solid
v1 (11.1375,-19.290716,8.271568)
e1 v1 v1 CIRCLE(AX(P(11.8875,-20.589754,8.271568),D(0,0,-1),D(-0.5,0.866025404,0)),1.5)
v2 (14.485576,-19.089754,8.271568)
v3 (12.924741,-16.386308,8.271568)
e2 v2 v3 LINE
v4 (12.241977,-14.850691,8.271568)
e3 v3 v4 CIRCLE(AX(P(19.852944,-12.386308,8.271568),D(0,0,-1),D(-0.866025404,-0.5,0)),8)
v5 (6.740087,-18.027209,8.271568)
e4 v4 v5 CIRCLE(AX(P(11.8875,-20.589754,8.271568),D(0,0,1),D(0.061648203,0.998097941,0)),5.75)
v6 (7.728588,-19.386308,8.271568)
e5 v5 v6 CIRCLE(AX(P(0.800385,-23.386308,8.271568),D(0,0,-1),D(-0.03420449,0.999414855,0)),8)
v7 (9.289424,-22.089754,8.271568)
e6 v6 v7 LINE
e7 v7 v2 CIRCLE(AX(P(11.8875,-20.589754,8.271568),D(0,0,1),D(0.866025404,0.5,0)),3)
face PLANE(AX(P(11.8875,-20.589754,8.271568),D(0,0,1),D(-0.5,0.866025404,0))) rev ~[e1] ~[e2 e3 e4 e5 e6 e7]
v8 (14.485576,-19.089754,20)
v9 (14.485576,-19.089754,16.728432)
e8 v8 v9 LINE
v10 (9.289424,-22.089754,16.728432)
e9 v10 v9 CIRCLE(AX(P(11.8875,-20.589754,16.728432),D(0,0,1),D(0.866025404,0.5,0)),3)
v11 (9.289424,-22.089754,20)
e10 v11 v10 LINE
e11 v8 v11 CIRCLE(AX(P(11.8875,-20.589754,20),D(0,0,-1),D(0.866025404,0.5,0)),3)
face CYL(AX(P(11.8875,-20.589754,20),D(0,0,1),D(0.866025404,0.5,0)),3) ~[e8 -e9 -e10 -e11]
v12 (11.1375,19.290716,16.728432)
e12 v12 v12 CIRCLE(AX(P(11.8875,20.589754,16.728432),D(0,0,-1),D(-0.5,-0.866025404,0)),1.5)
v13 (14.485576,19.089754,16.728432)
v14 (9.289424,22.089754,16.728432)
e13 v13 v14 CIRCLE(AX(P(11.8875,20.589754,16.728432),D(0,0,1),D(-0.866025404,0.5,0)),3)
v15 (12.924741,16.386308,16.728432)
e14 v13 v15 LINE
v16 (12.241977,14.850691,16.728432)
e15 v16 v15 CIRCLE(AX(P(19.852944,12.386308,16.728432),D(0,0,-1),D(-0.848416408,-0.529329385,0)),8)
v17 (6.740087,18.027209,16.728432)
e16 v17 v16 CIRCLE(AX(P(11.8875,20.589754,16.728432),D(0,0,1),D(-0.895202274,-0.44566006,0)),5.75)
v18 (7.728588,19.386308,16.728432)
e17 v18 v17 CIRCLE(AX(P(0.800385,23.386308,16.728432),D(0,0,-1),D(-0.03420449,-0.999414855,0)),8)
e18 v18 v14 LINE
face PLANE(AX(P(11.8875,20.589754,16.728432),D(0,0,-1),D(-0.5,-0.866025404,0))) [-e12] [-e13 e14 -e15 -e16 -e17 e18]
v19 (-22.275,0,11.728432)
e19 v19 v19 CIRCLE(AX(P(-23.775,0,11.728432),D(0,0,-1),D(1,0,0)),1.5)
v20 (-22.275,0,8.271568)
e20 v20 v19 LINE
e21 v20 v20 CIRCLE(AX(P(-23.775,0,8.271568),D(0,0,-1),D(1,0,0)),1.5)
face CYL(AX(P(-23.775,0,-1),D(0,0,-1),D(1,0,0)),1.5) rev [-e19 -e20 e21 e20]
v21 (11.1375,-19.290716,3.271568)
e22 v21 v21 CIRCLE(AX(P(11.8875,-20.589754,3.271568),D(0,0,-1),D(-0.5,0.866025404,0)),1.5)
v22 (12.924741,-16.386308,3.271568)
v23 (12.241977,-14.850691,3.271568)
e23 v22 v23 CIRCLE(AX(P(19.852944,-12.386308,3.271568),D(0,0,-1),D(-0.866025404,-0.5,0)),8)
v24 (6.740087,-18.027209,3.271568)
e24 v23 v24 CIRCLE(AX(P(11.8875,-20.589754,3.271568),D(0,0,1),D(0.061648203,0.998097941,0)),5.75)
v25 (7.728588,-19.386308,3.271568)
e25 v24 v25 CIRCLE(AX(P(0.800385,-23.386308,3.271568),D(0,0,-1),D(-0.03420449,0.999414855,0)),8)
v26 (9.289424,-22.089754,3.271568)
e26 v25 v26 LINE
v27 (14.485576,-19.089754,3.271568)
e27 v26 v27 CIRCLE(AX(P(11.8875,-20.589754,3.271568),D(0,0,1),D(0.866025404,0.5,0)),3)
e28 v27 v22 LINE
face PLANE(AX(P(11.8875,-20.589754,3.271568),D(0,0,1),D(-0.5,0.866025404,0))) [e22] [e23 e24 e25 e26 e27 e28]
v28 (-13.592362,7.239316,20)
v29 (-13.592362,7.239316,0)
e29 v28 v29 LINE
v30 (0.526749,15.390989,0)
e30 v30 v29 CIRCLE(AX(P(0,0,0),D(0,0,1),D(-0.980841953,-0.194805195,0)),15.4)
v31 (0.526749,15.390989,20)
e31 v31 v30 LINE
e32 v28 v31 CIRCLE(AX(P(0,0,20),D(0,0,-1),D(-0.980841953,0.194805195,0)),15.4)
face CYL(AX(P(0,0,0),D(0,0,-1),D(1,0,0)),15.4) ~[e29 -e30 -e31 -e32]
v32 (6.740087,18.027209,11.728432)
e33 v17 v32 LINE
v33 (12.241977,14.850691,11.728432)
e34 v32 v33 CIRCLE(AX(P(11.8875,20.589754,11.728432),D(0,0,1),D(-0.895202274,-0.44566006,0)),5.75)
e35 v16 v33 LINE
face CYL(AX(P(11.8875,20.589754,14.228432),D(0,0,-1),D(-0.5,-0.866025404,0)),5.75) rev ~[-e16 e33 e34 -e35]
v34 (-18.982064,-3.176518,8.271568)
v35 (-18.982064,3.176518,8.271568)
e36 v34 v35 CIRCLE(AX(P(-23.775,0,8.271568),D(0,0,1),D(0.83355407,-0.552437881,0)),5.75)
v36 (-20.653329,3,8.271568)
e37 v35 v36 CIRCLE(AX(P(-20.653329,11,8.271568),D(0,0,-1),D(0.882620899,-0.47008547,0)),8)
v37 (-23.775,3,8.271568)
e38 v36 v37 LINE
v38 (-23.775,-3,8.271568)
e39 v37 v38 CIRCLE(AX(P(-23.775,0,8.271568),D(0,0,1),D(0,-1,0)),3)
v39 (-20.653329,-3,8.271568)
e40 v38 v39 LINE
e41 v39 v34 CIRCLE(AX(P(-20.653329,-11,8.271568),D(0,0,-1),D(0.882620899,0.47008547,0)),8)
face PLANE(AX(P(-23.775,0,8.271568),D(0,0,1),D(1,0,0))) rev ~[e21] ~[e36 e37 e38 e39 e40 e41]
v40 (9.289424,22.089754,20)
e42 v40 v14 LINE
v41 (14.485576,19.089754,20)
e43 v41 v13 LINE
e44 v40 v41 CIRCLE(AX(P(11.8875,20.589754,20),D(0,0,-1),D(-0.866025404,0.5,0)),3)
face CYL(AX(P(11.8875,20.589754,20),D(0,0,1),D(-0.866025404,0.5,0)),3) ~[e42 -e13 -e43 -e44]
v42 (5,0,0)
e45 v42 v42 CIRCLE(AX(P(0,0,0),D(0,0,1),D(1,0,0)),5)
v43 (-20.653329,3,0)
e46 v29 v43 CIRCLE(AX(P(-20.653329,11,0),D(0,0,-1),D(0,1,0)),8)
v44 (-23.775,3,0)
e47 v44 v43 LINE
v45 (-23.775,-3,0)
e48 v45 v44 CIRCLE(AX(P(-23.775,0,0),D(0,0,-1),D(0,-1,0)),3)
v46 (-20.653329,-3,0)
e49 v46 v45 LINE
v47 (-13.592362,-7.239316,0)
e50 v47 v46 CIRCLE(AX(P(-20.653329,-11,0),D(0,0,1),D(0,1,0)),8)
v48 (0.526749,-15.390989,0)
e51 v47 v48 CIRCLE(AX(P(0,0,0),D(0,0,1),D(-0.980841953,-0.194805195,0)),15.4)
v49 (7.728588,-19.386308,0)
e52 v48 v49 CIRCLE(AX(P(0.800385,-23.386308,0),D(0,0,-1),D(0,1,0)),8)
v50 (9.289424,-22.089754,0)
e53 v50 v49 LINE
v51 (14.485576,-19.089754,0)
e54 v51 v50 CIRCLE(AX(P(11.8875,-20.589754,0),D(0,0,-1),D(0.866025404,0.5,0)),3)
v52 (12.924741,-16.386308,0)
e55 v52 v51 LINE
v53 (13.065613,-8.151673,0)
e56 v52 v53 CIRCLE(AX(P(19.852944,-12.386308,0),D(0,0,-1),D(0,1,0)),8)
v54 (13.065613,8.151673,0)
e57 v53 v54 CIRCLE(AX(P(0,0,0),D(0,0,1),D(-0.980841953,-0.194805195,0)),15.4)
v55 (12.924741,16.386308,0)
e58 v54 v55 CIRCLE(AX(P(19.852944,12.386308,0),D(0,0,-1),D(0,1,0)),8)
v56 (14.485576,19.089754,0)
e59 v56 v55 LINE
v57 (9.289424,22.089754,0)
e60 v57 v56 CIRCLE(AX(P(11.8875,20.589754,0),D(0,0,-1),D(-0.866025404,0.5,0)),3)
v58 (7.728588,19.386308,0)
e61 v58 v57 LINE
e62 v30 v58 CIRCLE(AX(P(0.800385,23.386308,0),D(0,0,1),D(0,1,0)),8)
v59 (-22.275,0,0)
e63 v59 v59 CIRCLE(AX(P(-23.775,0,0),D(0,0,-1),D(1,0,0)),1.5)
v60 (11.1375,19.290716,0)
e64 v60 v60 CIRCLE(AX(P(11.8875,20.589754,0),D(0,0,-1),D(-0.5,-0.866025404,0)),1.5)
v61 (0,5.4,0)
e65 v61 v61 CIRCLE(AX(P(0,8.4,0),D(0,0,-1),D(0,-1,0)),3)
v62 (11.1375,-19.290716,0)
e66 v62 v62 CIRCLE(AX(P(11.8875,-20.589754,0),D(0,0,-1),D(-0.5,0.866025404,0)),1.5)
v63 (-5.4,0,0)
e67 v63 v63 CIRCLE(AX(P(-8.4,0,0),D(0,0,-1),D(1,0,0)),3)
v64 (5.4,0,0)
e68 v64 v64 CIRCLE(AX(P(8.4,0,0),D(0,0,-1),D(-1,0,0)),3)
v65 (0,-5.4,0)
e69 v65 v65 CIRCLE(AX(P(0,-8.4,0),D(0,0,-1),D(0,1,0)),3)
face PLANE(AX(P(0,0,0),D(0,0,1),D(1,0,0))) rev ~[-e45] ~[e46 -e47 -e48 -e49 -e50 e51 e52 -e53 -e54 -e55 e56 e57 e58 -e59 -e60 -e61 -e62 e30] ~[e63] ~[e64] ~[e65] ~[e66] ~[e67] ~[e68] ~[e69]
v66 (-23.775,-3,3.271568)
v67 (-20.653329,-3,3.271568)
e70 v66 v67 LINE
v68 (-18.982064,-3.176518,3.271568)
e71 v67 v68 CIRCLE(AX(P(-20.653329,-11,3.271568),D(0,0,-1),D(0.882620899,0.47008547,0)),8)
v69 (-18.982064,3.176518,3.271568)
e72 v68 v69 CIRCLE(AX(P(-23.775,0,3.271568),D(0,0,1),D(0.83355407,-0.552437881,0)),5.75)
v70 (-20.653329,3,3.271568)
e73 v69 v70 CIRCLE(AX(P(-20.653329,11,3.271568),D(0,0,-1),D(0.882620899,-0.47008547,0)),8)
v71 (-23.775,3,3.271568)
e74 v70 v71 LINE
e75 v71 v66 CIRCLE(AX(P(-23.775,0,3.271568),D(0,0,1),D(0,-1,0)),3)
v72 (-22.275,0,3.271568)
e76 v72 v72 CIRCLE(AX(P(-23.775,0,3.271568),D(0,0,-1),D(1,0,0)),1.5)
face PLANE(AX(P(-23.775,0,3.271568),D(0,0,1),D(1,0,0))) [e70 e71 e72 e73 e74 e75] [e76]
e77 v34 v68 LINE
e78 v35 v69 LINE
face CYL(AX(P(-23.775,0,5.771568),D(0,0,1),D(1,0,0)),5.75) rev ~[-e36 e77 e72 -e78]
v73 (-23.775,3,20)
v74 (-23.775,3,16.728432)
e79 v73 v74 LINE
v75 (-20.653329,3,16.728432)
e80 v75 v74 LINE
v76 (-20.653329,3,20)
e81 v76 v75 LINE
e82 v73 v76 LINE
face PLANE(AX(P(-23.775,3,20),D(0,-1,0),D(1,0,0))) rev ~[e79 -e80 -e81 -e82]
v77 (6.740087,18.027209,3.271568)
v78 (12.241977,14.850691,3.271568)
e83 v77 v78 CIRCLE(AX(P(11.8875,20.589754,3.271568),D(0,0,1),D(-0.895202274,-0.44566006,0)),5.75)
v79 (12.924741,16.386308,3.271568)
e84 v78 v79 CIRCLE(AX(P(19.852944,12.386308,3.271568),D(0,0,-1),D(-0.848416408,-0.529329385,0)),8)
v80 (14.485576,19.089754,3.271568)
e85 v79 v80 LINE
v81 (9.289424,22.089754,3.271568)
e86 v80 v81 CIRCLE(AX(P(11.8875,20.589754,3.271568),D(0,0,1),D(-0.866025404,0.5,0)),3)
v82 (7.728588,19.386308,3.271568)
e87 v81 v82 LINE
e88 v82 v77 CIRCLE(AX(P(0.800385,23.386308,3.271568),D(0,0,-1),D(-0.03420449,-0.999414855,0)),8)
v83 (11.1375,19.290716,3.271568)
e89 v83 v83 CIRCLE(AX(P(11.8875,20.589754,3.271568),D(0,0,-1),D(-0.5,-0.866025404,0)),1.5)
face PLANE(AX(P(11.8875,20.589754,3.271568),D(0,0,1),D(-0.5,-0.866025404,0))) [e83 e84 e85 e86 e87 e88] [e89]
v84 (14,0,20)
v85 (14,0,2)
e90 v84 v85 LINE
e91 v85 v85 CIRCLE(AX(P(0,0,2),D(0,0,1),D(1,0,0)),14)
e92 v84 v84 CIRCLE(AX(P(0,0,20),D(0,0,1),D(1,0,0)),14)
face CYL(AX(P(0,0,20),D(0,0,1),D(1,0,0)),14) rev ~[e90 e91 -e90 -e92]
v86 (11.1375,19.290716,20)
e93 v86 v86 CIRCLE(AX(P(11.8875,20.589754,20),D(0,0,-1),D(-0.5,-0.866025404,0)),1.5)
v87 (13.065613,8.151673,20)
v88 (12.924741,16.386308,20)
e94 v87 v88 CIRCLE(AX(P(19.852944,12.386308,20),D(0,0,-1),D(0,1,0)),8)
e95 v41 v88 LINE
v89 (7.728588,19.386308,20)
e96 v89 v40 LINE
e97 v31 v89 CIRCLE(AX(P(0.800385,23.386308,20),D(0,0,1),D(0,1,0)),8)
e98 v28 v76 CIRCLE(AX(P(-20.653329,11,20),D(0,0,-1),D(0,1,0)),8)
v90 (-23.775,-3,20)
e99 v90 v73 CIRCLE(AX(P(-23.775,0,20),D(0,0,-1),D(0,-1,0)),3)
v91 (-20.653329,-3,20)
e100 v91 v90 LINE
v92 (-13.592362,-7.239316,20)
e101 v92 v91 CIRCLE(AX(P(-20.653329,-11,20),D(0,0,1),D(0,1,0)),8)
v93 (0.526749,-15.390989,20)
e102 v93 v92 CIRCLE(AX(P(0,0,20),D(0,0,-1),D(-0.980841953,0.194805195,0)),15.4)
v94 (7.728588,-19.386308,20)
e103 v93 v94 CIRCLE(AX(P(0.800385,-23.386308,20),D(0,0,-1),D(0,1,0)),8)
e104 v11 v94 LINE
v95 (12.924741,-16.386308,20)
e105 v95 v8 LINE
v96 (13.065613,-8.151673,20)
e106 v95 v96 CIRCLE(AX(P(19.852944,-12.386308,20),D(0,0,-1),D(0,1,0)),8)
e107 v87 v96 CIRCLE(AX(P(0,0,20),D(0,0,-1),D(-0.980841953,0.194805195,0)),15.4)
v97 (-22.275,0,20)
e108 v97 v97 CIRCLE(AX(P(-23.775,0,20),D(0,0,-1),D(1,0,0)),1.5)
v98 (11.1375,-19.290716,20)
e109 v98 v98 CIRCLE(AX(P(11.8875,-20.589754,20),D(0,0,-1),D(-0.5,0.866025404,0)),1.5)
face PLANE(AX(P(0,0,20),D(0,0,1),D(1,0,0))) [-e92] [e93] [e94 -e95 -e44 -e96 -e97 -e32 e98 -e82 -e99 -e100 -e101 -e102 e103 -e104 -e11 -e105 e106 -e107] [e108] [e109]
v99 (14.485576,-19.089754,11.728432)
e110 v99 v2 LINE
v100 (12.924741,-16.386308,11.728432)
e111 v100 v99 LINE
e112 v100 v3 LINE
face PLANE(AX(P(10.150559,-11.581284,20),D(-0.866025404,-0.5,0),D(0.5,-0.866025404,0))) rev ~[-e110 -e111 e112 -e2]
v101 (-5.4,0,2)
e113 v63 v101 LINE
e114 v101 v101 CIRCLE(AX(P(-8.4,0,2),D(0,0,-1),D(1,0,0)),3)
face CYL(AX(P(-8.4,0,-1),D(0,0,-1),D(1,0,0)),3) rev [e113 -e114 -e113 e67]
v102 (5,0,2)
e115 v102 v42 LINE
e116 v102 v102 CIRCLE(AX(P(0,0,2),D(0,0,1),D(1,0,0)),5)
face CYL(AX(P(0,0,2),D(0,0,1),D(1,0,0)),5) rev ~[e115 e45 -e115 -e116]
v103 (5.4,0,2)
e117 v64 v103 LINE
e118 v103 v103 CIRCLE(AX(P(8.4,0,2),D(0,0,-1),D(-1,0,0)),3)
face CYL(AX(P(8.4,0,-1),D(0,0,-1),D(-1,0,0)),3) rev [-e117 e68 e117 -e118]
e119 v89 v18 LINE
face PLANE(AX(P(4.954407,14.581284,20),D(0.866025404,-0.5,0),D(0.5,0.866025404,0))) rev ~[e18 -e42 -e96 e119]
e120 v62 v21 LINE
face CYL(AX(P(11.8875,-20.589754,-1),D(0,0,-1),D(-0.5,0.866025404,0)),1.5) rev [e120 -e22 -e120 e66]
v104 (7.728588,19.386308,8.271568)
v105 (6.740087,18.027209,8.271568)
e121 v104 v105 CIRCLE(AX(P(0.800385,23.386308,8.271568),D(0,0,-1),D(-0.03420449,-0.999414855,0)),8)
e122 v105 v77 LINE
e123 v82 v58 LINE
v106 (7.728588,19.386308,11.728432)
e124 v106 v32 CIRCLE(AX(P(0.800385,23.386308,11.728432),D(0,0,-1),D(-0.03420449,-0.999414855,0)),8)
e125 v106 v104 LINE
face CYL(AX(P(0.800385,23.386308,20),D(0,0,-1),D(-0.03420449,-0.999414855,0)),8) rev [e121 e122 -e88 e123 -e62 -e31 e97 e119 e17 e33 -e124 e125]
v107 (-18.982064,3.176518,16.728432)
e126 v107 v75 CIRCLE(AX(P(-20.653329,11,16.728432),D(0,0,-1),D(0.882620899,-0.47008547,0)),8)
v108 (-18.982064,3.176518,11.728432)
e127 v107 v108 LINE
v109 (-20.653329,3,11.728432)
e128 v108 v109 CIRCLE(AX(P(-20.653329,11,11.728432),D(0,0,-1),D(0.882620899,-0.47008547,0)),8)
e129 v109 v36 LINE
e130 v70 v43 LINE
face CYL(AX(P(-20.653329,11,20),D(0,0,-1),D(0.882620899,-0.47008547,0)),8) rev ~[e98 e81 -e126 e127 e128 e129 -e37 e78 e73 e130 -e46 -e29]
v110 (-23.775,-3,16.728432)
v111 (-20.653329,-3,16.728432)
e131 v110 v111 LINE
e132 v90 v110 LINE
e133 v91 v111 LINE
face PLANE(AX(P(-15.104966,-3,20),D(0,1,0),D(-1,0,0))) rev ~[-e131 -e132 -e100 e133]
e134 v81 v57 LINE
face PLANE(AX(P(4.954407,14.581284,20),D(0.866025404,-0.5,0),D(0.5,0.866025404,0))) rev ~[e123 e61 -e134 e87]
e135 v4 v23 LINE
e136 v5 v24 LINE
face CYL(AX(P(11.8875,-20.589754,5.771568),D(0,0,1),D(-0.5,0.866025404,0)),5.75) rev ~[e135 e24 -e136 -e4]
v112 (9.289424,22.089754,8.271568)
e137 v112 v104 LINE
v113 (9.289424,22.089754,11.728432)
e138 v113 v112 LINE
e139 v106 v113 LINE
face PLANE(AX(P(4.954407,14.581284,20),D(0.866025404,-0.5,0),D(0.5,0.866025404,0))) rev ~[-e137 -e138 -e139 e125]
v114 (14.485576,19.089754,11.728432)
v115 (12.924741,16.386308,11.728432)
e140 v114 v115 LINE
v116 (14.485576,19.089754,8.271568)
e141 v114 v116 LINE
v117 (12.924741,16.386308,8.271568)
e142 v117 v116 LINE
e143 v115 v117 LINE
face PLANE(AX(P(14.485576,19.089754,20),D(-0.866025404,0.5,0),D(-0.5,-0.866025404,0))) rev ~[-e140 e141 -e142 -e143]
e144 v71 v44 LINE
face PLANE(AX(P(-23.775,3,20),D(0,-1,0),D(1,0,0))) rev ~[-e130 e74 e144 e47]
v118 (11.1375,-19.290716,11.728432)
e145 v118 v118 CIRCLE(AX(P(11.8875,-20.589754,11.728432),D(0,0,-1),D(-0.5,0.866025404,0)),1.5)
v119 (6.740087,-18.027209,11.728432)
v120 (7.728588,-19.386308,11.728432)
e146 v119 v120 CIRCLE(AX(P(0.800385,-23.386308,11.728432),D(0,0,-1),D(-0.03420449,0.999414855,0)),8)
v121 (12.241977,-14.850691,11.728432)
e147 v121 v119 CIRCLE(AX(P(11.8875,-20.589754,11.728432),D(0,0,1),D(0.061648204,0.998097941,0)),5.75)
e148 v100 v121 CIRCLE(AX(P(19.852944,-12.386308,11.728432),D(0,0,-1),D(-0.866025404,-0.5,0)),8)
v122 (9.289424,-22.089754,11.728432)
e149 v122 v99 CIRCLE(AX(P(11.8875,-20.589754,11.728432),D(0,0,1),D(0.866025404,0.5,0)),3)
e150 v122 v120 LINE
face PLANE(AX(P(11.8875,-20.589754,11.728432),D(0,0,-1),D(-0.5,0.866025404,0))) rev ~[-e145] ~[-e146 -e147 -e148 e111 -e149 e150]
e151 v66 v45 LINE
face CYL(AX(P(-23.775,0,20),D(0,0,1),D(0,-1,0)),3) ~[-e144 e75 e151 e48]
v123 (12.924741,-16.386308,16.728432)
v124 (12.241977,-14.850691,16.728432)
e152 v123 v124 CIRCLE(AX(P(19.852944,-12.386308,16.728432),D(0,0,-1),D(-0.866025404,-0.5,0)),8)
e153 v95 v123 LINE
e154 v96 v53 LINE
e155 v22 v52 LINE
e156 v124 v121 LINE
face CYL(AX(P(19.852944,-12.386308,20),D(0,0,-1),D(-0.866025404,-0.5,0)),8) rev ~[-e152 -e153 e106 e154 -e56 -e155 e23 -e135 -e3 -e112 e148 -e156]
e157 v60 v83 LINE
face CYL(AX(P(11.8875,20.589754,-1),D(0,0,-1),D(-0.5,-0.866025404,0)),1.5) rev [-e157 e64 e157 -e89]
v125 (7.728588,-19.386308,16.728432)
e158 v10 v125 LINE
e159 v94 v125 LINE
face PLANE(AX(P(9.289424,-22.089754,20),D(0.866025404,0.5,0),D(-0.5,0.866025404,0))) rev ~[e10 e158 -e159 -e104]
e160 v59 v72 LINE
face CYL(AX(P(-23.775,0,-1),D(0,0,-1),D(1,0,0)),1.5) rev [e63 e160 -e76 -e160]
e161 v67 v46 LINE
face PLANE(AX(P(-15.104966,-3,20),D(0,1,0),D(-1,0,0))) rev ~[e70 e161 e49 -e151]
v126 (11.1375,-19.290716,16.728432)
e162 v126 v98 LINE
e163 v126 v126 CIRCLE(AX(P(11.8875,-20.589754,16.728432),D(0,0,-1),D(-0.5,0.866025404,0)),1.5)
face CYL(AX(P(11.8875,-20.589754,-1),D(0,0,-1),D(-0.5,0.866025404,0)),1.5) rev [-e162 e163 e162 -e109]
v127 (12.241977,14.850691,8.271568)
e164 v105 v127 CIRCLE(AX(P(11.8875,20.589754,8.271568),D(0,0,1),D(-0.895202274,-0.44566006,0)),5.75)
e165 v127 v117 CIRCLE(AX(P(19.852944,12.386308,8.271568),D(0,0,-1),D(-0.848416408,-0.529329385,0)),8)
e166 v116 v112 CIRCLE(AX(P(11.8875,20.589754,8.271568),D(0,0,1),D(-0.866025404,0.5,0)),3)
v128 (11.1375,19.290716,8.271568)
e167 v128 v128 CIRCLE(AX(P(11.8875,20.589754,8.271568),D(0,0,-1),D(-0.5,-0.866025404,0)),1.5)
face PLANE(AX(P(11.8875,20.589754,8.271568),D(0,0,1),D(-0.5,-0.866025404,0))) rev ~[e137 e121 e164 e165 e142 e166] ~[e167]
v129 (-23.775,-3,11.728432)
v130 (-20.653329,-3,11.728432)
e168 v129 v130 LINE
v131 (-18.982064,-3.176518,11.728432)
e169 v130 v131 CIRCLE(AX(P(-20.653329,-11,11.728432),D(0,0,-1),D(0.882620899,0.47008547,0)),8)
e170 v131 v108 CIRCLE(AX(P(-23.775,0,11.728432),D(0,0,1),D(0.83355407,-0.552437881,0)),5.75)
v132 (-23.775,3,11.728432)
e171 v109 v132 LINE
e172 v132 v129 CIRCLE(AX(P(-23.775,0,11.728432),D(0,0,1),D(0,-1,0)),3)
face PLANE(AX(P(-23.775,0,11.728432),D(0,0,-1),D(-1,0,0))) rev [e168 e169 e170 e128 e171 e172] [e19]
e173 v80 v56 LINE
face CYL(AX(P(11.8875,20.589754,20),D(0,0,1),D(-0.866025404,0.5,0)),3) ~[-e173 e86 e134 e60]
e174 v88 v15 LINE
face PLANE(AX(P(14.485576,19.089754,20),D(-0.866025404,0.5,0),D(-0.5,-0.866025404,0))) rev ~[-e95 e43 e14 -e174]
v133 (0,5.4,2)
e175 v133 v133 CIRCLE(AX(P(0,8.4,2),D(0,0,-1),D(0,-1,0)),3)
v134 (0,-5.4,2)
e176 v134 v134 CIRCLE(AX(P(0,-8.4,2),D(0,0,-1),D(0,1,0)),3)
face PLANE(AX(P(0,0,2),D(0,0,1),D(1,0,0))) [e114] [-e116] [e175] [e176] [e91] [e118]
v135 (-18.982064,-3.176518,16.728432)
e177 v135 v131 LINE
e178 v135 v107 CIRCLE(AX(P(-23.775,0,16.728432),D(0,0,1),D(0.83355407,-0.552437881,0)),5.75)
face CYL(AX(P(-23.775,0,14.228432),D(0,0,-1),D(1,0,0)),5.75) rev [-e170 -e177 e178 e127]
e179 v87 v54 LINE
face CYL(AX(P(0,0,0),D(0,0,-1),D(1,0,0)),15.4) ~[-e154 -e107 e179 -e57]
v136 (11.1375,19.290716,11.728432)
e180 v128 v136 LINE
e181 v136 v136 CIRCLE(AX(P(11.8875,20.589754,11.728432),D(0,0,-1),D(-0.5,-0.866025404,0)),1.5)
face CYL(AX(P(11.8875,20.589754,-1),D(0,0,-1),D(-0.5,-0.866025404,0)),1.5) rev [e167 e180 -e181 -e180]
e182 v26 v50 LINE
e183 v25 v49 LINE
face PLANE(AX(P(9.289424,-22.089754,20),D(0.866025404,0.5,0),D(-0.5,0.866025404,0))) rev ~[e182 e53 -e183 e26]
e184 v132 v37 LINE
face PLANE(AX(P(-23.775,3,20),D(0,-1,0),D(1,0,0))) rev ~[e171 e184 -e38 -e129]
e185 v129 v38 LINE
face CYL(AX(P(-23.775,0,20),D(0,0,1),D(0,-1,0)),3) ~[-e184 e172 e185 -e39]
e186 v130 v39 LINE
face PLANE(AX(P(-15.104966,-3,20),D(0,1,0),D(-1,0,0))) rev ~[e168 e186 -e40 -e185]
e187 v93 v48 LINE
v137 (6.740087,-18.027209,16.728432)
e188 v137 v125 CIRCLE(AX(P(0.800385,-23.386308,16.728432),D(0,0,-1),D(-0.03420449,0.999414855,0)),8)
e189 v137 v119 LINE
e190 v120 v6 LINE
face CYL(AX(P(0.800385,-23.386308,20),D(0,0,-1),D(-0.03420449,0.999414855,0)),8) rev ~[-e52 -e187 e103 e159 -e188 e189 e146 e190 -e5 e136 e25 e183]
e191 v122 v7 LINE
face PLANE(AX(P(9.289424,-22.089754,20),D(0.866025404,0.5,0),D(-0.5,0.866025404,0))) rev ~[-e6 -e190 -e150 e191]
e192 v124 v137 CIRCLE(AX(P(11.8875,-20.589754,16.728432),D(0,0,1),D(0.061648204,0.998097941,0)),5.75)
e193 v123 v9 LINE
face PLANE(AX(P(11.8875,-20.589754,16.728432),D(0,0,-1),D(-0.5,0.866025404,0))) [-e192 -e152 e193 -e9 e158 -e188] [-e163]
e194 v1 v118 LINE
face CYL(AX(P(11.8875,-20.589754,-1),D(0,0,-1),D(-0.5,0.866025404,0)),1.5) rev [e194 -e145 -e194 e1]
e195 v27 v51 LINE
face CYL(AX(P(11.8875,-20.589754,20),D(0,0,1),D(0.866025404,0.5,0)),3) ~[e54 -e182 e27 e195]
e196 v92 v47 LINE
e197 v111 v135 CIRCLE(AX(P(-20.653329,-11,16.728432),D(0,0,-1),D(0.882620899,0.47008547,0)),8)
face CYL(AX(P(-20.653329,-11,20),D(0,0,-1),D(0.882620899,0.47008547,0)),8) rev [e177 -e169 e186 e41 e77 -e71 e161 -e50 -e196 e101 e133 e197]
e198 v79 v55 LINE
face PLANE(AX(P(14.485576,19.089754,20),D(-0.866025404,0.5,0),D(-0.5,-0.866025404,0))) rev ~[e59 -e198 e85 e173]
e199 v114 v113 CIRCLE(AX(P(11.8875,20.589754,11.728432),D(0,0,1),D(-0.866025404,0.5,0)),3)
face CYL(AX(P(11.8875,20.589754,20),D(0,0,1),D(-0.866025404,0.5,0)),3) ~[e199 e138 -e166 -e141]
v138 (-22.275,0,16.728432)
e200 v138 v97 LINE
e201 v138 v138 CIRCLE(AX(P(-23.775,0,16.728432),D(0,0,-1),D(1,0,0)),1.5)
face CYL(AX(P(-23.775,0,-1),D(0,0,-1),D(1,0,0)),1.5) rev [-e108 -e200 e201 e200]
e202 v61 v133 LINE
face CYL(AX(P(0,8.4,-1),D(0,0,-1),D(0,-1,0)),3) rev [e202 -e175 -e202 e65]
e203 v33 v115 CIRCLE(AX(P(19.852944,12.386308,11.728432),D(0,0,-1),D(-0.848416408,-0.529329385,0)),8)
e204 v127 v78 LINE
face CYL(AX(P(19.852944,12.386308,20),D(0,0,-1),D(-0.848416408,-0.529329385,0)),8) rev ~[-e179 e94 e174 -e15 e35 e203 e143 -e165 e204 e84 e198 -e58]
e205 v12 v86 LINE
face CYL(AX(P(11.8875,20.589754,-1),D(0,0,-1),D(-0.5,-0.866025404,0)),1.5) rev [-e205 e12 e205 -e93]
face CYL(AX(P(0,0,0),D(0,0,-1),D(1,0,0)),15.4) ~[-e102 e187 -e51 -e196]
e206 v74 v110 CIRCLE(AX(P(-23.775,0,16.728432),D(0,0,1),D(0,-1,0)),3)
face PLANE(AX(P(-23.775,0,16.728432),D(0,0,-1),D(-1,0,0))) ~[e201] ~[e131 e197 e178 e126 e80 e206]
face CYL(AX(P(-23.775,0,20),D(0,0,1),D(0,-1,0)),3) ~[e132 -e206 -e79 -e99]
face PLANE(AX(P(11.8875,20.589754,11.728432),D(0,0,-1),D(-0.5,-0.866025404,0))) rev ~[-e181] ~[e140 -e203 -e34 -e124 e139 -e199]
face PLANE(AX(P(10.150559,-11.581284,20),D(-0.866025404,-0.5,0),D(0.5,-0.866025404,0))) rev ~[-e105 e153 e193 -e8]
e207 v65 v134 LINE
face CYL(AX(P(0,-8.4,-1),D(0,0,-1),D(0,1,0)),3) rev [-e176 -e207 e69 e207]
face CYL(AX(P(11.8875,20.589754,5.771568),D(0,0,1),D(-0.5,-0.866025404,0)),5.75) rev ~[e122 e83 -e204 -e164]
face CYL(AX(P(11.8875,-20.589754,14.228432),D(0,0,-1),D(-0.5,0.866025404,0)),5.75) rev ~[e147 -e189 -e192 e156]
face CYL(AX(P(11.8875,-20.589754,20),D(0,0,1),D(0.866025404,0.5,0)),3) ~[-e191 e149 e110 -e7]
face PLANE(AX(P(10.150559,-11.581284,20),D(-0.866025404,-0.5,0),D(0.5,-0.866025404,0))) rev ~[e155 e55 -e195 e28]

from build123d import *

# Parameters (mm, degrees)
SKETCH1_R                 = 15.4
BOSS_EXTRUDE1_DEPTH       = 20
BOSS_EXTRUDE2_DEPTH       = 20
FILLET4_R                 = 8
CIRPATTERN11_COUNT        = 3
FILLET4_OF_CIRPATTERN11_R = 8
SKETCH4_R                 = 14
CUT_EXTRUDE3_DEPTH        = 18
SKETCH5_R                 = 5
CUT_EXTRUDE4_DEPTH        = 19
CUT_EXTRUDE4_DEPTH_BACK   = 3
CUT_EXTRUDE5_START        = -3
SKETCH7_R                 = 3
CUT_EXTRUDE5_DEPTH        = 22
CIRPATTERN12_COUNT        = 4
CUT_EXTRUDE1_START        = -21
SKETCH2_R                 = 1.5
CUT_EXTRUDE1_DEPTH        = 22
CIRPATTERN10_COUNT        = 3
SKETCH3_R                 = 5.75
CUT_EXTRUDE2_DEPTH        = 2.5
CIRPATTERN3_COUNT         = 3
MIRROR1_COPY_1_SKETCH_R   = 5.75
MIRROR1_COPY_1_DEPTH      = 2.5
MIRROR1_COPY_2_SKETCH_R   = 5.75
MIRROR1_COPY_2_DEPTH      = 2.5


with BuildPart() as part:
    # Sketch1 → Boss-Extrude1 (new body)
    with BuildSketch(Plane.XY):
        Circle(SKETCH1_R)
    extrude(amount=BOSS_EXTRUDE1_DEPTH)

    # Sketch6 → Boss-Extrude2 (add)
    with BuildSketch(Plane.XY.offset(20)):
        with BuildLine():
            Line((-23.775, 3), (-15.104966071, 3))
            ThreePointArc((-15.104966071, 3), (-15.4, 0), (-15.104966071, -3))
            Line((-15.104966071, -3), (-23.775, -3))
            ThreePointArc((-23.775, -3), (-26.775, 0), (-23.775, 3))
        make_face()
    boss_extrude2 = extrude(amount=-BOSS_EXTRUDE2_DEPTH)

    # Fillet4
    fillet4_edges = [part.edges().sort_by_distance(p)[0] for p in [
        (-15.104966071, 3, 10),
        (-15.104966071, -3, 10),
    ]]
    fillet(fillet4_edges, radius=FILLET4_R)

    # CirPattern11: Boss-Extrude2 ×3 about axis
    cirpattern11_axis = Axis((0, 0, 0), (0, 0, 1))
    for i in range(1, CIRPATTERN11_COUNT):
        add(boss_extrude2.rotate(cirpattern11_axis, i * 360 / CIRPATTERN11_COUNT))

    # Fillet4 of CirPattern11
    fillet4_of_cirpattern11_edges = [part.edges().sort_by_distance(p)[0] for p in [
        (4.954406824, -14.581284341, 10),
        (10.150559247, -11.581284341, 10),
        (10.150559247, 11.581284341, 10),
        (4.954406824, 14.581284341, 10),
    ]]
    fillet(fillet4_of_cirpattern11_edges, radius=FILLET4_OF_CIRPATTERN11_R)

    # Sketch4 → Cut-Extrude3 (cut)
    with BuildSketch(Plane.XY.offset(20)):
        Circle(SKETCH4_R)
    extrude(amount=-CUT_EXTRUDE3_DEPTH, mode=Mode.SUBTRACT)

    # Sketch5 → Cut-Extrude4 (cut, two sides)
    with BuildSketch(Plane.XY.offset(2)) as cut_extrude4_sk:
        Circle(SKETCH5_R)
    extrude(amount=CUT_EXTRUDE4_DEPTH, mode=Mode.SUBTRACT)
    extrude(cut_extrude4_sk.sketch, amount=-CUT_EXTRUDE4_DEPTH_BACK, mode=Mode.SUBTRACT)

    # Sketch7 → Cut-Extrude5 (cut)
    with BuildSketch(Plane.XY.offset(2).offset(CUT_EXTRUDE5_START)):
        with Locations((-8.4, 0)):
            Circle(SKETCH7_R)
    cut_extrude5 = extrude(amount=CUT_EXTRUDE5_DEPTH, mode=Mode.SUBTRACT)

    # CirPattern12: Cut-Extrude5 ×4 about axis
    cirpattern12_axis = Axis((0, 0, 0), (0, 0, 1))
    for i in range(1, CIRPATTERN12_COUNT):
        add(cut_extrude5.rotate(cirpattern12_axis, i * 360 / CIRPATTERN12_COUNT), mode=Mode.SUBTRACT)

    # Sketch2 → Cut-Extrude1 (cut)
    with BuildSketch(Plane.XY.offset(20).offset(CUT_EXTRUDE1_START)):
        with Locations((-23.775, 0)):
            Circle(SKETCH2_R)
    cut_extrude1 = extrude(amount=CUT_EXTRUDE1_DEPTH, mode=Mode.SUBTRACT)

    # CirPattern10: Cut-Extrude1 ×3 about axis
    cirpattern10_axis = Axis((0, 0, 0), (0, 0, 1))
    for i in range(1, CIRPATTERN10_COUNT):
        add(cut_extrude1.rotate(cirpattern10_axis, i * 360 / CIRPATTERN10_COUNT), mode=Mode.SUBTRACT)

    # Sketch3 → Cut-Extrude2 (cut, symmetric)
    with BuildSketch(Plane.XY.offset(5.771567898)):
        with Locations((-23.775, 0)):
            Circle(SKETCH3_R)
    cut_extrude2 = extrude(amount=CUT_EXTRUDE2_DEPTH, both=True, mode=Mode.SUBTRACT)

    # CirPattern3: Cut-Extrude2 ×3 about axis
    cirpattern3_axis = Axis((0, 0, 0), (0, 0, 1))
    for i in range(1, CIRPATTERN3_COUNT):
        add(cut_extrude2.rotate(cirpattern3_axis, i * 360 / CIRPATTERN3_COUNT), mode=Mode.SUBTRACT)

    # Mirror1: Cut-Extrude2 across plane
    add(cut_extrude2.mirror(Plane.XY.offset(10)), mode=Mode.SUBTRACT)

    # Mirror1 copy 1 sketch → Mirror1 copy 1 (cut, symmetric)
    with BuildSketch(Plane(origin=(0, 0, 14.228432102), x_dir=(-0.5, 0.866025404, 0), z_dir=(0, 0, -1))):
        with Locations((-23.775, 0)):
            Circle(MIRROR1_COPY_1_SKETCH_R)
    extrude(amount=MIRROR1_COPY_1_DEPTH, both=True, mode=Mode.SUBTRACT)

    # Mirror1 copy 2 sketch → Mirror1 copy 2 (cut, symmetric)
    with BuildSketch(Plane(origin=(0, 0, 14.228432102), x_dir=(-0.5, -0.866025404, 0), z_dir=(0, 0, -1))):
        with Locations((-23.775, 0)):
            Circle(MIRROR1_COPY_2_SKETCH_R)
    extrude(amount=MIRROR1_COPY_2_DEPTH, both=True, mode=Mode.SUBTRACT)


solid = part.part
